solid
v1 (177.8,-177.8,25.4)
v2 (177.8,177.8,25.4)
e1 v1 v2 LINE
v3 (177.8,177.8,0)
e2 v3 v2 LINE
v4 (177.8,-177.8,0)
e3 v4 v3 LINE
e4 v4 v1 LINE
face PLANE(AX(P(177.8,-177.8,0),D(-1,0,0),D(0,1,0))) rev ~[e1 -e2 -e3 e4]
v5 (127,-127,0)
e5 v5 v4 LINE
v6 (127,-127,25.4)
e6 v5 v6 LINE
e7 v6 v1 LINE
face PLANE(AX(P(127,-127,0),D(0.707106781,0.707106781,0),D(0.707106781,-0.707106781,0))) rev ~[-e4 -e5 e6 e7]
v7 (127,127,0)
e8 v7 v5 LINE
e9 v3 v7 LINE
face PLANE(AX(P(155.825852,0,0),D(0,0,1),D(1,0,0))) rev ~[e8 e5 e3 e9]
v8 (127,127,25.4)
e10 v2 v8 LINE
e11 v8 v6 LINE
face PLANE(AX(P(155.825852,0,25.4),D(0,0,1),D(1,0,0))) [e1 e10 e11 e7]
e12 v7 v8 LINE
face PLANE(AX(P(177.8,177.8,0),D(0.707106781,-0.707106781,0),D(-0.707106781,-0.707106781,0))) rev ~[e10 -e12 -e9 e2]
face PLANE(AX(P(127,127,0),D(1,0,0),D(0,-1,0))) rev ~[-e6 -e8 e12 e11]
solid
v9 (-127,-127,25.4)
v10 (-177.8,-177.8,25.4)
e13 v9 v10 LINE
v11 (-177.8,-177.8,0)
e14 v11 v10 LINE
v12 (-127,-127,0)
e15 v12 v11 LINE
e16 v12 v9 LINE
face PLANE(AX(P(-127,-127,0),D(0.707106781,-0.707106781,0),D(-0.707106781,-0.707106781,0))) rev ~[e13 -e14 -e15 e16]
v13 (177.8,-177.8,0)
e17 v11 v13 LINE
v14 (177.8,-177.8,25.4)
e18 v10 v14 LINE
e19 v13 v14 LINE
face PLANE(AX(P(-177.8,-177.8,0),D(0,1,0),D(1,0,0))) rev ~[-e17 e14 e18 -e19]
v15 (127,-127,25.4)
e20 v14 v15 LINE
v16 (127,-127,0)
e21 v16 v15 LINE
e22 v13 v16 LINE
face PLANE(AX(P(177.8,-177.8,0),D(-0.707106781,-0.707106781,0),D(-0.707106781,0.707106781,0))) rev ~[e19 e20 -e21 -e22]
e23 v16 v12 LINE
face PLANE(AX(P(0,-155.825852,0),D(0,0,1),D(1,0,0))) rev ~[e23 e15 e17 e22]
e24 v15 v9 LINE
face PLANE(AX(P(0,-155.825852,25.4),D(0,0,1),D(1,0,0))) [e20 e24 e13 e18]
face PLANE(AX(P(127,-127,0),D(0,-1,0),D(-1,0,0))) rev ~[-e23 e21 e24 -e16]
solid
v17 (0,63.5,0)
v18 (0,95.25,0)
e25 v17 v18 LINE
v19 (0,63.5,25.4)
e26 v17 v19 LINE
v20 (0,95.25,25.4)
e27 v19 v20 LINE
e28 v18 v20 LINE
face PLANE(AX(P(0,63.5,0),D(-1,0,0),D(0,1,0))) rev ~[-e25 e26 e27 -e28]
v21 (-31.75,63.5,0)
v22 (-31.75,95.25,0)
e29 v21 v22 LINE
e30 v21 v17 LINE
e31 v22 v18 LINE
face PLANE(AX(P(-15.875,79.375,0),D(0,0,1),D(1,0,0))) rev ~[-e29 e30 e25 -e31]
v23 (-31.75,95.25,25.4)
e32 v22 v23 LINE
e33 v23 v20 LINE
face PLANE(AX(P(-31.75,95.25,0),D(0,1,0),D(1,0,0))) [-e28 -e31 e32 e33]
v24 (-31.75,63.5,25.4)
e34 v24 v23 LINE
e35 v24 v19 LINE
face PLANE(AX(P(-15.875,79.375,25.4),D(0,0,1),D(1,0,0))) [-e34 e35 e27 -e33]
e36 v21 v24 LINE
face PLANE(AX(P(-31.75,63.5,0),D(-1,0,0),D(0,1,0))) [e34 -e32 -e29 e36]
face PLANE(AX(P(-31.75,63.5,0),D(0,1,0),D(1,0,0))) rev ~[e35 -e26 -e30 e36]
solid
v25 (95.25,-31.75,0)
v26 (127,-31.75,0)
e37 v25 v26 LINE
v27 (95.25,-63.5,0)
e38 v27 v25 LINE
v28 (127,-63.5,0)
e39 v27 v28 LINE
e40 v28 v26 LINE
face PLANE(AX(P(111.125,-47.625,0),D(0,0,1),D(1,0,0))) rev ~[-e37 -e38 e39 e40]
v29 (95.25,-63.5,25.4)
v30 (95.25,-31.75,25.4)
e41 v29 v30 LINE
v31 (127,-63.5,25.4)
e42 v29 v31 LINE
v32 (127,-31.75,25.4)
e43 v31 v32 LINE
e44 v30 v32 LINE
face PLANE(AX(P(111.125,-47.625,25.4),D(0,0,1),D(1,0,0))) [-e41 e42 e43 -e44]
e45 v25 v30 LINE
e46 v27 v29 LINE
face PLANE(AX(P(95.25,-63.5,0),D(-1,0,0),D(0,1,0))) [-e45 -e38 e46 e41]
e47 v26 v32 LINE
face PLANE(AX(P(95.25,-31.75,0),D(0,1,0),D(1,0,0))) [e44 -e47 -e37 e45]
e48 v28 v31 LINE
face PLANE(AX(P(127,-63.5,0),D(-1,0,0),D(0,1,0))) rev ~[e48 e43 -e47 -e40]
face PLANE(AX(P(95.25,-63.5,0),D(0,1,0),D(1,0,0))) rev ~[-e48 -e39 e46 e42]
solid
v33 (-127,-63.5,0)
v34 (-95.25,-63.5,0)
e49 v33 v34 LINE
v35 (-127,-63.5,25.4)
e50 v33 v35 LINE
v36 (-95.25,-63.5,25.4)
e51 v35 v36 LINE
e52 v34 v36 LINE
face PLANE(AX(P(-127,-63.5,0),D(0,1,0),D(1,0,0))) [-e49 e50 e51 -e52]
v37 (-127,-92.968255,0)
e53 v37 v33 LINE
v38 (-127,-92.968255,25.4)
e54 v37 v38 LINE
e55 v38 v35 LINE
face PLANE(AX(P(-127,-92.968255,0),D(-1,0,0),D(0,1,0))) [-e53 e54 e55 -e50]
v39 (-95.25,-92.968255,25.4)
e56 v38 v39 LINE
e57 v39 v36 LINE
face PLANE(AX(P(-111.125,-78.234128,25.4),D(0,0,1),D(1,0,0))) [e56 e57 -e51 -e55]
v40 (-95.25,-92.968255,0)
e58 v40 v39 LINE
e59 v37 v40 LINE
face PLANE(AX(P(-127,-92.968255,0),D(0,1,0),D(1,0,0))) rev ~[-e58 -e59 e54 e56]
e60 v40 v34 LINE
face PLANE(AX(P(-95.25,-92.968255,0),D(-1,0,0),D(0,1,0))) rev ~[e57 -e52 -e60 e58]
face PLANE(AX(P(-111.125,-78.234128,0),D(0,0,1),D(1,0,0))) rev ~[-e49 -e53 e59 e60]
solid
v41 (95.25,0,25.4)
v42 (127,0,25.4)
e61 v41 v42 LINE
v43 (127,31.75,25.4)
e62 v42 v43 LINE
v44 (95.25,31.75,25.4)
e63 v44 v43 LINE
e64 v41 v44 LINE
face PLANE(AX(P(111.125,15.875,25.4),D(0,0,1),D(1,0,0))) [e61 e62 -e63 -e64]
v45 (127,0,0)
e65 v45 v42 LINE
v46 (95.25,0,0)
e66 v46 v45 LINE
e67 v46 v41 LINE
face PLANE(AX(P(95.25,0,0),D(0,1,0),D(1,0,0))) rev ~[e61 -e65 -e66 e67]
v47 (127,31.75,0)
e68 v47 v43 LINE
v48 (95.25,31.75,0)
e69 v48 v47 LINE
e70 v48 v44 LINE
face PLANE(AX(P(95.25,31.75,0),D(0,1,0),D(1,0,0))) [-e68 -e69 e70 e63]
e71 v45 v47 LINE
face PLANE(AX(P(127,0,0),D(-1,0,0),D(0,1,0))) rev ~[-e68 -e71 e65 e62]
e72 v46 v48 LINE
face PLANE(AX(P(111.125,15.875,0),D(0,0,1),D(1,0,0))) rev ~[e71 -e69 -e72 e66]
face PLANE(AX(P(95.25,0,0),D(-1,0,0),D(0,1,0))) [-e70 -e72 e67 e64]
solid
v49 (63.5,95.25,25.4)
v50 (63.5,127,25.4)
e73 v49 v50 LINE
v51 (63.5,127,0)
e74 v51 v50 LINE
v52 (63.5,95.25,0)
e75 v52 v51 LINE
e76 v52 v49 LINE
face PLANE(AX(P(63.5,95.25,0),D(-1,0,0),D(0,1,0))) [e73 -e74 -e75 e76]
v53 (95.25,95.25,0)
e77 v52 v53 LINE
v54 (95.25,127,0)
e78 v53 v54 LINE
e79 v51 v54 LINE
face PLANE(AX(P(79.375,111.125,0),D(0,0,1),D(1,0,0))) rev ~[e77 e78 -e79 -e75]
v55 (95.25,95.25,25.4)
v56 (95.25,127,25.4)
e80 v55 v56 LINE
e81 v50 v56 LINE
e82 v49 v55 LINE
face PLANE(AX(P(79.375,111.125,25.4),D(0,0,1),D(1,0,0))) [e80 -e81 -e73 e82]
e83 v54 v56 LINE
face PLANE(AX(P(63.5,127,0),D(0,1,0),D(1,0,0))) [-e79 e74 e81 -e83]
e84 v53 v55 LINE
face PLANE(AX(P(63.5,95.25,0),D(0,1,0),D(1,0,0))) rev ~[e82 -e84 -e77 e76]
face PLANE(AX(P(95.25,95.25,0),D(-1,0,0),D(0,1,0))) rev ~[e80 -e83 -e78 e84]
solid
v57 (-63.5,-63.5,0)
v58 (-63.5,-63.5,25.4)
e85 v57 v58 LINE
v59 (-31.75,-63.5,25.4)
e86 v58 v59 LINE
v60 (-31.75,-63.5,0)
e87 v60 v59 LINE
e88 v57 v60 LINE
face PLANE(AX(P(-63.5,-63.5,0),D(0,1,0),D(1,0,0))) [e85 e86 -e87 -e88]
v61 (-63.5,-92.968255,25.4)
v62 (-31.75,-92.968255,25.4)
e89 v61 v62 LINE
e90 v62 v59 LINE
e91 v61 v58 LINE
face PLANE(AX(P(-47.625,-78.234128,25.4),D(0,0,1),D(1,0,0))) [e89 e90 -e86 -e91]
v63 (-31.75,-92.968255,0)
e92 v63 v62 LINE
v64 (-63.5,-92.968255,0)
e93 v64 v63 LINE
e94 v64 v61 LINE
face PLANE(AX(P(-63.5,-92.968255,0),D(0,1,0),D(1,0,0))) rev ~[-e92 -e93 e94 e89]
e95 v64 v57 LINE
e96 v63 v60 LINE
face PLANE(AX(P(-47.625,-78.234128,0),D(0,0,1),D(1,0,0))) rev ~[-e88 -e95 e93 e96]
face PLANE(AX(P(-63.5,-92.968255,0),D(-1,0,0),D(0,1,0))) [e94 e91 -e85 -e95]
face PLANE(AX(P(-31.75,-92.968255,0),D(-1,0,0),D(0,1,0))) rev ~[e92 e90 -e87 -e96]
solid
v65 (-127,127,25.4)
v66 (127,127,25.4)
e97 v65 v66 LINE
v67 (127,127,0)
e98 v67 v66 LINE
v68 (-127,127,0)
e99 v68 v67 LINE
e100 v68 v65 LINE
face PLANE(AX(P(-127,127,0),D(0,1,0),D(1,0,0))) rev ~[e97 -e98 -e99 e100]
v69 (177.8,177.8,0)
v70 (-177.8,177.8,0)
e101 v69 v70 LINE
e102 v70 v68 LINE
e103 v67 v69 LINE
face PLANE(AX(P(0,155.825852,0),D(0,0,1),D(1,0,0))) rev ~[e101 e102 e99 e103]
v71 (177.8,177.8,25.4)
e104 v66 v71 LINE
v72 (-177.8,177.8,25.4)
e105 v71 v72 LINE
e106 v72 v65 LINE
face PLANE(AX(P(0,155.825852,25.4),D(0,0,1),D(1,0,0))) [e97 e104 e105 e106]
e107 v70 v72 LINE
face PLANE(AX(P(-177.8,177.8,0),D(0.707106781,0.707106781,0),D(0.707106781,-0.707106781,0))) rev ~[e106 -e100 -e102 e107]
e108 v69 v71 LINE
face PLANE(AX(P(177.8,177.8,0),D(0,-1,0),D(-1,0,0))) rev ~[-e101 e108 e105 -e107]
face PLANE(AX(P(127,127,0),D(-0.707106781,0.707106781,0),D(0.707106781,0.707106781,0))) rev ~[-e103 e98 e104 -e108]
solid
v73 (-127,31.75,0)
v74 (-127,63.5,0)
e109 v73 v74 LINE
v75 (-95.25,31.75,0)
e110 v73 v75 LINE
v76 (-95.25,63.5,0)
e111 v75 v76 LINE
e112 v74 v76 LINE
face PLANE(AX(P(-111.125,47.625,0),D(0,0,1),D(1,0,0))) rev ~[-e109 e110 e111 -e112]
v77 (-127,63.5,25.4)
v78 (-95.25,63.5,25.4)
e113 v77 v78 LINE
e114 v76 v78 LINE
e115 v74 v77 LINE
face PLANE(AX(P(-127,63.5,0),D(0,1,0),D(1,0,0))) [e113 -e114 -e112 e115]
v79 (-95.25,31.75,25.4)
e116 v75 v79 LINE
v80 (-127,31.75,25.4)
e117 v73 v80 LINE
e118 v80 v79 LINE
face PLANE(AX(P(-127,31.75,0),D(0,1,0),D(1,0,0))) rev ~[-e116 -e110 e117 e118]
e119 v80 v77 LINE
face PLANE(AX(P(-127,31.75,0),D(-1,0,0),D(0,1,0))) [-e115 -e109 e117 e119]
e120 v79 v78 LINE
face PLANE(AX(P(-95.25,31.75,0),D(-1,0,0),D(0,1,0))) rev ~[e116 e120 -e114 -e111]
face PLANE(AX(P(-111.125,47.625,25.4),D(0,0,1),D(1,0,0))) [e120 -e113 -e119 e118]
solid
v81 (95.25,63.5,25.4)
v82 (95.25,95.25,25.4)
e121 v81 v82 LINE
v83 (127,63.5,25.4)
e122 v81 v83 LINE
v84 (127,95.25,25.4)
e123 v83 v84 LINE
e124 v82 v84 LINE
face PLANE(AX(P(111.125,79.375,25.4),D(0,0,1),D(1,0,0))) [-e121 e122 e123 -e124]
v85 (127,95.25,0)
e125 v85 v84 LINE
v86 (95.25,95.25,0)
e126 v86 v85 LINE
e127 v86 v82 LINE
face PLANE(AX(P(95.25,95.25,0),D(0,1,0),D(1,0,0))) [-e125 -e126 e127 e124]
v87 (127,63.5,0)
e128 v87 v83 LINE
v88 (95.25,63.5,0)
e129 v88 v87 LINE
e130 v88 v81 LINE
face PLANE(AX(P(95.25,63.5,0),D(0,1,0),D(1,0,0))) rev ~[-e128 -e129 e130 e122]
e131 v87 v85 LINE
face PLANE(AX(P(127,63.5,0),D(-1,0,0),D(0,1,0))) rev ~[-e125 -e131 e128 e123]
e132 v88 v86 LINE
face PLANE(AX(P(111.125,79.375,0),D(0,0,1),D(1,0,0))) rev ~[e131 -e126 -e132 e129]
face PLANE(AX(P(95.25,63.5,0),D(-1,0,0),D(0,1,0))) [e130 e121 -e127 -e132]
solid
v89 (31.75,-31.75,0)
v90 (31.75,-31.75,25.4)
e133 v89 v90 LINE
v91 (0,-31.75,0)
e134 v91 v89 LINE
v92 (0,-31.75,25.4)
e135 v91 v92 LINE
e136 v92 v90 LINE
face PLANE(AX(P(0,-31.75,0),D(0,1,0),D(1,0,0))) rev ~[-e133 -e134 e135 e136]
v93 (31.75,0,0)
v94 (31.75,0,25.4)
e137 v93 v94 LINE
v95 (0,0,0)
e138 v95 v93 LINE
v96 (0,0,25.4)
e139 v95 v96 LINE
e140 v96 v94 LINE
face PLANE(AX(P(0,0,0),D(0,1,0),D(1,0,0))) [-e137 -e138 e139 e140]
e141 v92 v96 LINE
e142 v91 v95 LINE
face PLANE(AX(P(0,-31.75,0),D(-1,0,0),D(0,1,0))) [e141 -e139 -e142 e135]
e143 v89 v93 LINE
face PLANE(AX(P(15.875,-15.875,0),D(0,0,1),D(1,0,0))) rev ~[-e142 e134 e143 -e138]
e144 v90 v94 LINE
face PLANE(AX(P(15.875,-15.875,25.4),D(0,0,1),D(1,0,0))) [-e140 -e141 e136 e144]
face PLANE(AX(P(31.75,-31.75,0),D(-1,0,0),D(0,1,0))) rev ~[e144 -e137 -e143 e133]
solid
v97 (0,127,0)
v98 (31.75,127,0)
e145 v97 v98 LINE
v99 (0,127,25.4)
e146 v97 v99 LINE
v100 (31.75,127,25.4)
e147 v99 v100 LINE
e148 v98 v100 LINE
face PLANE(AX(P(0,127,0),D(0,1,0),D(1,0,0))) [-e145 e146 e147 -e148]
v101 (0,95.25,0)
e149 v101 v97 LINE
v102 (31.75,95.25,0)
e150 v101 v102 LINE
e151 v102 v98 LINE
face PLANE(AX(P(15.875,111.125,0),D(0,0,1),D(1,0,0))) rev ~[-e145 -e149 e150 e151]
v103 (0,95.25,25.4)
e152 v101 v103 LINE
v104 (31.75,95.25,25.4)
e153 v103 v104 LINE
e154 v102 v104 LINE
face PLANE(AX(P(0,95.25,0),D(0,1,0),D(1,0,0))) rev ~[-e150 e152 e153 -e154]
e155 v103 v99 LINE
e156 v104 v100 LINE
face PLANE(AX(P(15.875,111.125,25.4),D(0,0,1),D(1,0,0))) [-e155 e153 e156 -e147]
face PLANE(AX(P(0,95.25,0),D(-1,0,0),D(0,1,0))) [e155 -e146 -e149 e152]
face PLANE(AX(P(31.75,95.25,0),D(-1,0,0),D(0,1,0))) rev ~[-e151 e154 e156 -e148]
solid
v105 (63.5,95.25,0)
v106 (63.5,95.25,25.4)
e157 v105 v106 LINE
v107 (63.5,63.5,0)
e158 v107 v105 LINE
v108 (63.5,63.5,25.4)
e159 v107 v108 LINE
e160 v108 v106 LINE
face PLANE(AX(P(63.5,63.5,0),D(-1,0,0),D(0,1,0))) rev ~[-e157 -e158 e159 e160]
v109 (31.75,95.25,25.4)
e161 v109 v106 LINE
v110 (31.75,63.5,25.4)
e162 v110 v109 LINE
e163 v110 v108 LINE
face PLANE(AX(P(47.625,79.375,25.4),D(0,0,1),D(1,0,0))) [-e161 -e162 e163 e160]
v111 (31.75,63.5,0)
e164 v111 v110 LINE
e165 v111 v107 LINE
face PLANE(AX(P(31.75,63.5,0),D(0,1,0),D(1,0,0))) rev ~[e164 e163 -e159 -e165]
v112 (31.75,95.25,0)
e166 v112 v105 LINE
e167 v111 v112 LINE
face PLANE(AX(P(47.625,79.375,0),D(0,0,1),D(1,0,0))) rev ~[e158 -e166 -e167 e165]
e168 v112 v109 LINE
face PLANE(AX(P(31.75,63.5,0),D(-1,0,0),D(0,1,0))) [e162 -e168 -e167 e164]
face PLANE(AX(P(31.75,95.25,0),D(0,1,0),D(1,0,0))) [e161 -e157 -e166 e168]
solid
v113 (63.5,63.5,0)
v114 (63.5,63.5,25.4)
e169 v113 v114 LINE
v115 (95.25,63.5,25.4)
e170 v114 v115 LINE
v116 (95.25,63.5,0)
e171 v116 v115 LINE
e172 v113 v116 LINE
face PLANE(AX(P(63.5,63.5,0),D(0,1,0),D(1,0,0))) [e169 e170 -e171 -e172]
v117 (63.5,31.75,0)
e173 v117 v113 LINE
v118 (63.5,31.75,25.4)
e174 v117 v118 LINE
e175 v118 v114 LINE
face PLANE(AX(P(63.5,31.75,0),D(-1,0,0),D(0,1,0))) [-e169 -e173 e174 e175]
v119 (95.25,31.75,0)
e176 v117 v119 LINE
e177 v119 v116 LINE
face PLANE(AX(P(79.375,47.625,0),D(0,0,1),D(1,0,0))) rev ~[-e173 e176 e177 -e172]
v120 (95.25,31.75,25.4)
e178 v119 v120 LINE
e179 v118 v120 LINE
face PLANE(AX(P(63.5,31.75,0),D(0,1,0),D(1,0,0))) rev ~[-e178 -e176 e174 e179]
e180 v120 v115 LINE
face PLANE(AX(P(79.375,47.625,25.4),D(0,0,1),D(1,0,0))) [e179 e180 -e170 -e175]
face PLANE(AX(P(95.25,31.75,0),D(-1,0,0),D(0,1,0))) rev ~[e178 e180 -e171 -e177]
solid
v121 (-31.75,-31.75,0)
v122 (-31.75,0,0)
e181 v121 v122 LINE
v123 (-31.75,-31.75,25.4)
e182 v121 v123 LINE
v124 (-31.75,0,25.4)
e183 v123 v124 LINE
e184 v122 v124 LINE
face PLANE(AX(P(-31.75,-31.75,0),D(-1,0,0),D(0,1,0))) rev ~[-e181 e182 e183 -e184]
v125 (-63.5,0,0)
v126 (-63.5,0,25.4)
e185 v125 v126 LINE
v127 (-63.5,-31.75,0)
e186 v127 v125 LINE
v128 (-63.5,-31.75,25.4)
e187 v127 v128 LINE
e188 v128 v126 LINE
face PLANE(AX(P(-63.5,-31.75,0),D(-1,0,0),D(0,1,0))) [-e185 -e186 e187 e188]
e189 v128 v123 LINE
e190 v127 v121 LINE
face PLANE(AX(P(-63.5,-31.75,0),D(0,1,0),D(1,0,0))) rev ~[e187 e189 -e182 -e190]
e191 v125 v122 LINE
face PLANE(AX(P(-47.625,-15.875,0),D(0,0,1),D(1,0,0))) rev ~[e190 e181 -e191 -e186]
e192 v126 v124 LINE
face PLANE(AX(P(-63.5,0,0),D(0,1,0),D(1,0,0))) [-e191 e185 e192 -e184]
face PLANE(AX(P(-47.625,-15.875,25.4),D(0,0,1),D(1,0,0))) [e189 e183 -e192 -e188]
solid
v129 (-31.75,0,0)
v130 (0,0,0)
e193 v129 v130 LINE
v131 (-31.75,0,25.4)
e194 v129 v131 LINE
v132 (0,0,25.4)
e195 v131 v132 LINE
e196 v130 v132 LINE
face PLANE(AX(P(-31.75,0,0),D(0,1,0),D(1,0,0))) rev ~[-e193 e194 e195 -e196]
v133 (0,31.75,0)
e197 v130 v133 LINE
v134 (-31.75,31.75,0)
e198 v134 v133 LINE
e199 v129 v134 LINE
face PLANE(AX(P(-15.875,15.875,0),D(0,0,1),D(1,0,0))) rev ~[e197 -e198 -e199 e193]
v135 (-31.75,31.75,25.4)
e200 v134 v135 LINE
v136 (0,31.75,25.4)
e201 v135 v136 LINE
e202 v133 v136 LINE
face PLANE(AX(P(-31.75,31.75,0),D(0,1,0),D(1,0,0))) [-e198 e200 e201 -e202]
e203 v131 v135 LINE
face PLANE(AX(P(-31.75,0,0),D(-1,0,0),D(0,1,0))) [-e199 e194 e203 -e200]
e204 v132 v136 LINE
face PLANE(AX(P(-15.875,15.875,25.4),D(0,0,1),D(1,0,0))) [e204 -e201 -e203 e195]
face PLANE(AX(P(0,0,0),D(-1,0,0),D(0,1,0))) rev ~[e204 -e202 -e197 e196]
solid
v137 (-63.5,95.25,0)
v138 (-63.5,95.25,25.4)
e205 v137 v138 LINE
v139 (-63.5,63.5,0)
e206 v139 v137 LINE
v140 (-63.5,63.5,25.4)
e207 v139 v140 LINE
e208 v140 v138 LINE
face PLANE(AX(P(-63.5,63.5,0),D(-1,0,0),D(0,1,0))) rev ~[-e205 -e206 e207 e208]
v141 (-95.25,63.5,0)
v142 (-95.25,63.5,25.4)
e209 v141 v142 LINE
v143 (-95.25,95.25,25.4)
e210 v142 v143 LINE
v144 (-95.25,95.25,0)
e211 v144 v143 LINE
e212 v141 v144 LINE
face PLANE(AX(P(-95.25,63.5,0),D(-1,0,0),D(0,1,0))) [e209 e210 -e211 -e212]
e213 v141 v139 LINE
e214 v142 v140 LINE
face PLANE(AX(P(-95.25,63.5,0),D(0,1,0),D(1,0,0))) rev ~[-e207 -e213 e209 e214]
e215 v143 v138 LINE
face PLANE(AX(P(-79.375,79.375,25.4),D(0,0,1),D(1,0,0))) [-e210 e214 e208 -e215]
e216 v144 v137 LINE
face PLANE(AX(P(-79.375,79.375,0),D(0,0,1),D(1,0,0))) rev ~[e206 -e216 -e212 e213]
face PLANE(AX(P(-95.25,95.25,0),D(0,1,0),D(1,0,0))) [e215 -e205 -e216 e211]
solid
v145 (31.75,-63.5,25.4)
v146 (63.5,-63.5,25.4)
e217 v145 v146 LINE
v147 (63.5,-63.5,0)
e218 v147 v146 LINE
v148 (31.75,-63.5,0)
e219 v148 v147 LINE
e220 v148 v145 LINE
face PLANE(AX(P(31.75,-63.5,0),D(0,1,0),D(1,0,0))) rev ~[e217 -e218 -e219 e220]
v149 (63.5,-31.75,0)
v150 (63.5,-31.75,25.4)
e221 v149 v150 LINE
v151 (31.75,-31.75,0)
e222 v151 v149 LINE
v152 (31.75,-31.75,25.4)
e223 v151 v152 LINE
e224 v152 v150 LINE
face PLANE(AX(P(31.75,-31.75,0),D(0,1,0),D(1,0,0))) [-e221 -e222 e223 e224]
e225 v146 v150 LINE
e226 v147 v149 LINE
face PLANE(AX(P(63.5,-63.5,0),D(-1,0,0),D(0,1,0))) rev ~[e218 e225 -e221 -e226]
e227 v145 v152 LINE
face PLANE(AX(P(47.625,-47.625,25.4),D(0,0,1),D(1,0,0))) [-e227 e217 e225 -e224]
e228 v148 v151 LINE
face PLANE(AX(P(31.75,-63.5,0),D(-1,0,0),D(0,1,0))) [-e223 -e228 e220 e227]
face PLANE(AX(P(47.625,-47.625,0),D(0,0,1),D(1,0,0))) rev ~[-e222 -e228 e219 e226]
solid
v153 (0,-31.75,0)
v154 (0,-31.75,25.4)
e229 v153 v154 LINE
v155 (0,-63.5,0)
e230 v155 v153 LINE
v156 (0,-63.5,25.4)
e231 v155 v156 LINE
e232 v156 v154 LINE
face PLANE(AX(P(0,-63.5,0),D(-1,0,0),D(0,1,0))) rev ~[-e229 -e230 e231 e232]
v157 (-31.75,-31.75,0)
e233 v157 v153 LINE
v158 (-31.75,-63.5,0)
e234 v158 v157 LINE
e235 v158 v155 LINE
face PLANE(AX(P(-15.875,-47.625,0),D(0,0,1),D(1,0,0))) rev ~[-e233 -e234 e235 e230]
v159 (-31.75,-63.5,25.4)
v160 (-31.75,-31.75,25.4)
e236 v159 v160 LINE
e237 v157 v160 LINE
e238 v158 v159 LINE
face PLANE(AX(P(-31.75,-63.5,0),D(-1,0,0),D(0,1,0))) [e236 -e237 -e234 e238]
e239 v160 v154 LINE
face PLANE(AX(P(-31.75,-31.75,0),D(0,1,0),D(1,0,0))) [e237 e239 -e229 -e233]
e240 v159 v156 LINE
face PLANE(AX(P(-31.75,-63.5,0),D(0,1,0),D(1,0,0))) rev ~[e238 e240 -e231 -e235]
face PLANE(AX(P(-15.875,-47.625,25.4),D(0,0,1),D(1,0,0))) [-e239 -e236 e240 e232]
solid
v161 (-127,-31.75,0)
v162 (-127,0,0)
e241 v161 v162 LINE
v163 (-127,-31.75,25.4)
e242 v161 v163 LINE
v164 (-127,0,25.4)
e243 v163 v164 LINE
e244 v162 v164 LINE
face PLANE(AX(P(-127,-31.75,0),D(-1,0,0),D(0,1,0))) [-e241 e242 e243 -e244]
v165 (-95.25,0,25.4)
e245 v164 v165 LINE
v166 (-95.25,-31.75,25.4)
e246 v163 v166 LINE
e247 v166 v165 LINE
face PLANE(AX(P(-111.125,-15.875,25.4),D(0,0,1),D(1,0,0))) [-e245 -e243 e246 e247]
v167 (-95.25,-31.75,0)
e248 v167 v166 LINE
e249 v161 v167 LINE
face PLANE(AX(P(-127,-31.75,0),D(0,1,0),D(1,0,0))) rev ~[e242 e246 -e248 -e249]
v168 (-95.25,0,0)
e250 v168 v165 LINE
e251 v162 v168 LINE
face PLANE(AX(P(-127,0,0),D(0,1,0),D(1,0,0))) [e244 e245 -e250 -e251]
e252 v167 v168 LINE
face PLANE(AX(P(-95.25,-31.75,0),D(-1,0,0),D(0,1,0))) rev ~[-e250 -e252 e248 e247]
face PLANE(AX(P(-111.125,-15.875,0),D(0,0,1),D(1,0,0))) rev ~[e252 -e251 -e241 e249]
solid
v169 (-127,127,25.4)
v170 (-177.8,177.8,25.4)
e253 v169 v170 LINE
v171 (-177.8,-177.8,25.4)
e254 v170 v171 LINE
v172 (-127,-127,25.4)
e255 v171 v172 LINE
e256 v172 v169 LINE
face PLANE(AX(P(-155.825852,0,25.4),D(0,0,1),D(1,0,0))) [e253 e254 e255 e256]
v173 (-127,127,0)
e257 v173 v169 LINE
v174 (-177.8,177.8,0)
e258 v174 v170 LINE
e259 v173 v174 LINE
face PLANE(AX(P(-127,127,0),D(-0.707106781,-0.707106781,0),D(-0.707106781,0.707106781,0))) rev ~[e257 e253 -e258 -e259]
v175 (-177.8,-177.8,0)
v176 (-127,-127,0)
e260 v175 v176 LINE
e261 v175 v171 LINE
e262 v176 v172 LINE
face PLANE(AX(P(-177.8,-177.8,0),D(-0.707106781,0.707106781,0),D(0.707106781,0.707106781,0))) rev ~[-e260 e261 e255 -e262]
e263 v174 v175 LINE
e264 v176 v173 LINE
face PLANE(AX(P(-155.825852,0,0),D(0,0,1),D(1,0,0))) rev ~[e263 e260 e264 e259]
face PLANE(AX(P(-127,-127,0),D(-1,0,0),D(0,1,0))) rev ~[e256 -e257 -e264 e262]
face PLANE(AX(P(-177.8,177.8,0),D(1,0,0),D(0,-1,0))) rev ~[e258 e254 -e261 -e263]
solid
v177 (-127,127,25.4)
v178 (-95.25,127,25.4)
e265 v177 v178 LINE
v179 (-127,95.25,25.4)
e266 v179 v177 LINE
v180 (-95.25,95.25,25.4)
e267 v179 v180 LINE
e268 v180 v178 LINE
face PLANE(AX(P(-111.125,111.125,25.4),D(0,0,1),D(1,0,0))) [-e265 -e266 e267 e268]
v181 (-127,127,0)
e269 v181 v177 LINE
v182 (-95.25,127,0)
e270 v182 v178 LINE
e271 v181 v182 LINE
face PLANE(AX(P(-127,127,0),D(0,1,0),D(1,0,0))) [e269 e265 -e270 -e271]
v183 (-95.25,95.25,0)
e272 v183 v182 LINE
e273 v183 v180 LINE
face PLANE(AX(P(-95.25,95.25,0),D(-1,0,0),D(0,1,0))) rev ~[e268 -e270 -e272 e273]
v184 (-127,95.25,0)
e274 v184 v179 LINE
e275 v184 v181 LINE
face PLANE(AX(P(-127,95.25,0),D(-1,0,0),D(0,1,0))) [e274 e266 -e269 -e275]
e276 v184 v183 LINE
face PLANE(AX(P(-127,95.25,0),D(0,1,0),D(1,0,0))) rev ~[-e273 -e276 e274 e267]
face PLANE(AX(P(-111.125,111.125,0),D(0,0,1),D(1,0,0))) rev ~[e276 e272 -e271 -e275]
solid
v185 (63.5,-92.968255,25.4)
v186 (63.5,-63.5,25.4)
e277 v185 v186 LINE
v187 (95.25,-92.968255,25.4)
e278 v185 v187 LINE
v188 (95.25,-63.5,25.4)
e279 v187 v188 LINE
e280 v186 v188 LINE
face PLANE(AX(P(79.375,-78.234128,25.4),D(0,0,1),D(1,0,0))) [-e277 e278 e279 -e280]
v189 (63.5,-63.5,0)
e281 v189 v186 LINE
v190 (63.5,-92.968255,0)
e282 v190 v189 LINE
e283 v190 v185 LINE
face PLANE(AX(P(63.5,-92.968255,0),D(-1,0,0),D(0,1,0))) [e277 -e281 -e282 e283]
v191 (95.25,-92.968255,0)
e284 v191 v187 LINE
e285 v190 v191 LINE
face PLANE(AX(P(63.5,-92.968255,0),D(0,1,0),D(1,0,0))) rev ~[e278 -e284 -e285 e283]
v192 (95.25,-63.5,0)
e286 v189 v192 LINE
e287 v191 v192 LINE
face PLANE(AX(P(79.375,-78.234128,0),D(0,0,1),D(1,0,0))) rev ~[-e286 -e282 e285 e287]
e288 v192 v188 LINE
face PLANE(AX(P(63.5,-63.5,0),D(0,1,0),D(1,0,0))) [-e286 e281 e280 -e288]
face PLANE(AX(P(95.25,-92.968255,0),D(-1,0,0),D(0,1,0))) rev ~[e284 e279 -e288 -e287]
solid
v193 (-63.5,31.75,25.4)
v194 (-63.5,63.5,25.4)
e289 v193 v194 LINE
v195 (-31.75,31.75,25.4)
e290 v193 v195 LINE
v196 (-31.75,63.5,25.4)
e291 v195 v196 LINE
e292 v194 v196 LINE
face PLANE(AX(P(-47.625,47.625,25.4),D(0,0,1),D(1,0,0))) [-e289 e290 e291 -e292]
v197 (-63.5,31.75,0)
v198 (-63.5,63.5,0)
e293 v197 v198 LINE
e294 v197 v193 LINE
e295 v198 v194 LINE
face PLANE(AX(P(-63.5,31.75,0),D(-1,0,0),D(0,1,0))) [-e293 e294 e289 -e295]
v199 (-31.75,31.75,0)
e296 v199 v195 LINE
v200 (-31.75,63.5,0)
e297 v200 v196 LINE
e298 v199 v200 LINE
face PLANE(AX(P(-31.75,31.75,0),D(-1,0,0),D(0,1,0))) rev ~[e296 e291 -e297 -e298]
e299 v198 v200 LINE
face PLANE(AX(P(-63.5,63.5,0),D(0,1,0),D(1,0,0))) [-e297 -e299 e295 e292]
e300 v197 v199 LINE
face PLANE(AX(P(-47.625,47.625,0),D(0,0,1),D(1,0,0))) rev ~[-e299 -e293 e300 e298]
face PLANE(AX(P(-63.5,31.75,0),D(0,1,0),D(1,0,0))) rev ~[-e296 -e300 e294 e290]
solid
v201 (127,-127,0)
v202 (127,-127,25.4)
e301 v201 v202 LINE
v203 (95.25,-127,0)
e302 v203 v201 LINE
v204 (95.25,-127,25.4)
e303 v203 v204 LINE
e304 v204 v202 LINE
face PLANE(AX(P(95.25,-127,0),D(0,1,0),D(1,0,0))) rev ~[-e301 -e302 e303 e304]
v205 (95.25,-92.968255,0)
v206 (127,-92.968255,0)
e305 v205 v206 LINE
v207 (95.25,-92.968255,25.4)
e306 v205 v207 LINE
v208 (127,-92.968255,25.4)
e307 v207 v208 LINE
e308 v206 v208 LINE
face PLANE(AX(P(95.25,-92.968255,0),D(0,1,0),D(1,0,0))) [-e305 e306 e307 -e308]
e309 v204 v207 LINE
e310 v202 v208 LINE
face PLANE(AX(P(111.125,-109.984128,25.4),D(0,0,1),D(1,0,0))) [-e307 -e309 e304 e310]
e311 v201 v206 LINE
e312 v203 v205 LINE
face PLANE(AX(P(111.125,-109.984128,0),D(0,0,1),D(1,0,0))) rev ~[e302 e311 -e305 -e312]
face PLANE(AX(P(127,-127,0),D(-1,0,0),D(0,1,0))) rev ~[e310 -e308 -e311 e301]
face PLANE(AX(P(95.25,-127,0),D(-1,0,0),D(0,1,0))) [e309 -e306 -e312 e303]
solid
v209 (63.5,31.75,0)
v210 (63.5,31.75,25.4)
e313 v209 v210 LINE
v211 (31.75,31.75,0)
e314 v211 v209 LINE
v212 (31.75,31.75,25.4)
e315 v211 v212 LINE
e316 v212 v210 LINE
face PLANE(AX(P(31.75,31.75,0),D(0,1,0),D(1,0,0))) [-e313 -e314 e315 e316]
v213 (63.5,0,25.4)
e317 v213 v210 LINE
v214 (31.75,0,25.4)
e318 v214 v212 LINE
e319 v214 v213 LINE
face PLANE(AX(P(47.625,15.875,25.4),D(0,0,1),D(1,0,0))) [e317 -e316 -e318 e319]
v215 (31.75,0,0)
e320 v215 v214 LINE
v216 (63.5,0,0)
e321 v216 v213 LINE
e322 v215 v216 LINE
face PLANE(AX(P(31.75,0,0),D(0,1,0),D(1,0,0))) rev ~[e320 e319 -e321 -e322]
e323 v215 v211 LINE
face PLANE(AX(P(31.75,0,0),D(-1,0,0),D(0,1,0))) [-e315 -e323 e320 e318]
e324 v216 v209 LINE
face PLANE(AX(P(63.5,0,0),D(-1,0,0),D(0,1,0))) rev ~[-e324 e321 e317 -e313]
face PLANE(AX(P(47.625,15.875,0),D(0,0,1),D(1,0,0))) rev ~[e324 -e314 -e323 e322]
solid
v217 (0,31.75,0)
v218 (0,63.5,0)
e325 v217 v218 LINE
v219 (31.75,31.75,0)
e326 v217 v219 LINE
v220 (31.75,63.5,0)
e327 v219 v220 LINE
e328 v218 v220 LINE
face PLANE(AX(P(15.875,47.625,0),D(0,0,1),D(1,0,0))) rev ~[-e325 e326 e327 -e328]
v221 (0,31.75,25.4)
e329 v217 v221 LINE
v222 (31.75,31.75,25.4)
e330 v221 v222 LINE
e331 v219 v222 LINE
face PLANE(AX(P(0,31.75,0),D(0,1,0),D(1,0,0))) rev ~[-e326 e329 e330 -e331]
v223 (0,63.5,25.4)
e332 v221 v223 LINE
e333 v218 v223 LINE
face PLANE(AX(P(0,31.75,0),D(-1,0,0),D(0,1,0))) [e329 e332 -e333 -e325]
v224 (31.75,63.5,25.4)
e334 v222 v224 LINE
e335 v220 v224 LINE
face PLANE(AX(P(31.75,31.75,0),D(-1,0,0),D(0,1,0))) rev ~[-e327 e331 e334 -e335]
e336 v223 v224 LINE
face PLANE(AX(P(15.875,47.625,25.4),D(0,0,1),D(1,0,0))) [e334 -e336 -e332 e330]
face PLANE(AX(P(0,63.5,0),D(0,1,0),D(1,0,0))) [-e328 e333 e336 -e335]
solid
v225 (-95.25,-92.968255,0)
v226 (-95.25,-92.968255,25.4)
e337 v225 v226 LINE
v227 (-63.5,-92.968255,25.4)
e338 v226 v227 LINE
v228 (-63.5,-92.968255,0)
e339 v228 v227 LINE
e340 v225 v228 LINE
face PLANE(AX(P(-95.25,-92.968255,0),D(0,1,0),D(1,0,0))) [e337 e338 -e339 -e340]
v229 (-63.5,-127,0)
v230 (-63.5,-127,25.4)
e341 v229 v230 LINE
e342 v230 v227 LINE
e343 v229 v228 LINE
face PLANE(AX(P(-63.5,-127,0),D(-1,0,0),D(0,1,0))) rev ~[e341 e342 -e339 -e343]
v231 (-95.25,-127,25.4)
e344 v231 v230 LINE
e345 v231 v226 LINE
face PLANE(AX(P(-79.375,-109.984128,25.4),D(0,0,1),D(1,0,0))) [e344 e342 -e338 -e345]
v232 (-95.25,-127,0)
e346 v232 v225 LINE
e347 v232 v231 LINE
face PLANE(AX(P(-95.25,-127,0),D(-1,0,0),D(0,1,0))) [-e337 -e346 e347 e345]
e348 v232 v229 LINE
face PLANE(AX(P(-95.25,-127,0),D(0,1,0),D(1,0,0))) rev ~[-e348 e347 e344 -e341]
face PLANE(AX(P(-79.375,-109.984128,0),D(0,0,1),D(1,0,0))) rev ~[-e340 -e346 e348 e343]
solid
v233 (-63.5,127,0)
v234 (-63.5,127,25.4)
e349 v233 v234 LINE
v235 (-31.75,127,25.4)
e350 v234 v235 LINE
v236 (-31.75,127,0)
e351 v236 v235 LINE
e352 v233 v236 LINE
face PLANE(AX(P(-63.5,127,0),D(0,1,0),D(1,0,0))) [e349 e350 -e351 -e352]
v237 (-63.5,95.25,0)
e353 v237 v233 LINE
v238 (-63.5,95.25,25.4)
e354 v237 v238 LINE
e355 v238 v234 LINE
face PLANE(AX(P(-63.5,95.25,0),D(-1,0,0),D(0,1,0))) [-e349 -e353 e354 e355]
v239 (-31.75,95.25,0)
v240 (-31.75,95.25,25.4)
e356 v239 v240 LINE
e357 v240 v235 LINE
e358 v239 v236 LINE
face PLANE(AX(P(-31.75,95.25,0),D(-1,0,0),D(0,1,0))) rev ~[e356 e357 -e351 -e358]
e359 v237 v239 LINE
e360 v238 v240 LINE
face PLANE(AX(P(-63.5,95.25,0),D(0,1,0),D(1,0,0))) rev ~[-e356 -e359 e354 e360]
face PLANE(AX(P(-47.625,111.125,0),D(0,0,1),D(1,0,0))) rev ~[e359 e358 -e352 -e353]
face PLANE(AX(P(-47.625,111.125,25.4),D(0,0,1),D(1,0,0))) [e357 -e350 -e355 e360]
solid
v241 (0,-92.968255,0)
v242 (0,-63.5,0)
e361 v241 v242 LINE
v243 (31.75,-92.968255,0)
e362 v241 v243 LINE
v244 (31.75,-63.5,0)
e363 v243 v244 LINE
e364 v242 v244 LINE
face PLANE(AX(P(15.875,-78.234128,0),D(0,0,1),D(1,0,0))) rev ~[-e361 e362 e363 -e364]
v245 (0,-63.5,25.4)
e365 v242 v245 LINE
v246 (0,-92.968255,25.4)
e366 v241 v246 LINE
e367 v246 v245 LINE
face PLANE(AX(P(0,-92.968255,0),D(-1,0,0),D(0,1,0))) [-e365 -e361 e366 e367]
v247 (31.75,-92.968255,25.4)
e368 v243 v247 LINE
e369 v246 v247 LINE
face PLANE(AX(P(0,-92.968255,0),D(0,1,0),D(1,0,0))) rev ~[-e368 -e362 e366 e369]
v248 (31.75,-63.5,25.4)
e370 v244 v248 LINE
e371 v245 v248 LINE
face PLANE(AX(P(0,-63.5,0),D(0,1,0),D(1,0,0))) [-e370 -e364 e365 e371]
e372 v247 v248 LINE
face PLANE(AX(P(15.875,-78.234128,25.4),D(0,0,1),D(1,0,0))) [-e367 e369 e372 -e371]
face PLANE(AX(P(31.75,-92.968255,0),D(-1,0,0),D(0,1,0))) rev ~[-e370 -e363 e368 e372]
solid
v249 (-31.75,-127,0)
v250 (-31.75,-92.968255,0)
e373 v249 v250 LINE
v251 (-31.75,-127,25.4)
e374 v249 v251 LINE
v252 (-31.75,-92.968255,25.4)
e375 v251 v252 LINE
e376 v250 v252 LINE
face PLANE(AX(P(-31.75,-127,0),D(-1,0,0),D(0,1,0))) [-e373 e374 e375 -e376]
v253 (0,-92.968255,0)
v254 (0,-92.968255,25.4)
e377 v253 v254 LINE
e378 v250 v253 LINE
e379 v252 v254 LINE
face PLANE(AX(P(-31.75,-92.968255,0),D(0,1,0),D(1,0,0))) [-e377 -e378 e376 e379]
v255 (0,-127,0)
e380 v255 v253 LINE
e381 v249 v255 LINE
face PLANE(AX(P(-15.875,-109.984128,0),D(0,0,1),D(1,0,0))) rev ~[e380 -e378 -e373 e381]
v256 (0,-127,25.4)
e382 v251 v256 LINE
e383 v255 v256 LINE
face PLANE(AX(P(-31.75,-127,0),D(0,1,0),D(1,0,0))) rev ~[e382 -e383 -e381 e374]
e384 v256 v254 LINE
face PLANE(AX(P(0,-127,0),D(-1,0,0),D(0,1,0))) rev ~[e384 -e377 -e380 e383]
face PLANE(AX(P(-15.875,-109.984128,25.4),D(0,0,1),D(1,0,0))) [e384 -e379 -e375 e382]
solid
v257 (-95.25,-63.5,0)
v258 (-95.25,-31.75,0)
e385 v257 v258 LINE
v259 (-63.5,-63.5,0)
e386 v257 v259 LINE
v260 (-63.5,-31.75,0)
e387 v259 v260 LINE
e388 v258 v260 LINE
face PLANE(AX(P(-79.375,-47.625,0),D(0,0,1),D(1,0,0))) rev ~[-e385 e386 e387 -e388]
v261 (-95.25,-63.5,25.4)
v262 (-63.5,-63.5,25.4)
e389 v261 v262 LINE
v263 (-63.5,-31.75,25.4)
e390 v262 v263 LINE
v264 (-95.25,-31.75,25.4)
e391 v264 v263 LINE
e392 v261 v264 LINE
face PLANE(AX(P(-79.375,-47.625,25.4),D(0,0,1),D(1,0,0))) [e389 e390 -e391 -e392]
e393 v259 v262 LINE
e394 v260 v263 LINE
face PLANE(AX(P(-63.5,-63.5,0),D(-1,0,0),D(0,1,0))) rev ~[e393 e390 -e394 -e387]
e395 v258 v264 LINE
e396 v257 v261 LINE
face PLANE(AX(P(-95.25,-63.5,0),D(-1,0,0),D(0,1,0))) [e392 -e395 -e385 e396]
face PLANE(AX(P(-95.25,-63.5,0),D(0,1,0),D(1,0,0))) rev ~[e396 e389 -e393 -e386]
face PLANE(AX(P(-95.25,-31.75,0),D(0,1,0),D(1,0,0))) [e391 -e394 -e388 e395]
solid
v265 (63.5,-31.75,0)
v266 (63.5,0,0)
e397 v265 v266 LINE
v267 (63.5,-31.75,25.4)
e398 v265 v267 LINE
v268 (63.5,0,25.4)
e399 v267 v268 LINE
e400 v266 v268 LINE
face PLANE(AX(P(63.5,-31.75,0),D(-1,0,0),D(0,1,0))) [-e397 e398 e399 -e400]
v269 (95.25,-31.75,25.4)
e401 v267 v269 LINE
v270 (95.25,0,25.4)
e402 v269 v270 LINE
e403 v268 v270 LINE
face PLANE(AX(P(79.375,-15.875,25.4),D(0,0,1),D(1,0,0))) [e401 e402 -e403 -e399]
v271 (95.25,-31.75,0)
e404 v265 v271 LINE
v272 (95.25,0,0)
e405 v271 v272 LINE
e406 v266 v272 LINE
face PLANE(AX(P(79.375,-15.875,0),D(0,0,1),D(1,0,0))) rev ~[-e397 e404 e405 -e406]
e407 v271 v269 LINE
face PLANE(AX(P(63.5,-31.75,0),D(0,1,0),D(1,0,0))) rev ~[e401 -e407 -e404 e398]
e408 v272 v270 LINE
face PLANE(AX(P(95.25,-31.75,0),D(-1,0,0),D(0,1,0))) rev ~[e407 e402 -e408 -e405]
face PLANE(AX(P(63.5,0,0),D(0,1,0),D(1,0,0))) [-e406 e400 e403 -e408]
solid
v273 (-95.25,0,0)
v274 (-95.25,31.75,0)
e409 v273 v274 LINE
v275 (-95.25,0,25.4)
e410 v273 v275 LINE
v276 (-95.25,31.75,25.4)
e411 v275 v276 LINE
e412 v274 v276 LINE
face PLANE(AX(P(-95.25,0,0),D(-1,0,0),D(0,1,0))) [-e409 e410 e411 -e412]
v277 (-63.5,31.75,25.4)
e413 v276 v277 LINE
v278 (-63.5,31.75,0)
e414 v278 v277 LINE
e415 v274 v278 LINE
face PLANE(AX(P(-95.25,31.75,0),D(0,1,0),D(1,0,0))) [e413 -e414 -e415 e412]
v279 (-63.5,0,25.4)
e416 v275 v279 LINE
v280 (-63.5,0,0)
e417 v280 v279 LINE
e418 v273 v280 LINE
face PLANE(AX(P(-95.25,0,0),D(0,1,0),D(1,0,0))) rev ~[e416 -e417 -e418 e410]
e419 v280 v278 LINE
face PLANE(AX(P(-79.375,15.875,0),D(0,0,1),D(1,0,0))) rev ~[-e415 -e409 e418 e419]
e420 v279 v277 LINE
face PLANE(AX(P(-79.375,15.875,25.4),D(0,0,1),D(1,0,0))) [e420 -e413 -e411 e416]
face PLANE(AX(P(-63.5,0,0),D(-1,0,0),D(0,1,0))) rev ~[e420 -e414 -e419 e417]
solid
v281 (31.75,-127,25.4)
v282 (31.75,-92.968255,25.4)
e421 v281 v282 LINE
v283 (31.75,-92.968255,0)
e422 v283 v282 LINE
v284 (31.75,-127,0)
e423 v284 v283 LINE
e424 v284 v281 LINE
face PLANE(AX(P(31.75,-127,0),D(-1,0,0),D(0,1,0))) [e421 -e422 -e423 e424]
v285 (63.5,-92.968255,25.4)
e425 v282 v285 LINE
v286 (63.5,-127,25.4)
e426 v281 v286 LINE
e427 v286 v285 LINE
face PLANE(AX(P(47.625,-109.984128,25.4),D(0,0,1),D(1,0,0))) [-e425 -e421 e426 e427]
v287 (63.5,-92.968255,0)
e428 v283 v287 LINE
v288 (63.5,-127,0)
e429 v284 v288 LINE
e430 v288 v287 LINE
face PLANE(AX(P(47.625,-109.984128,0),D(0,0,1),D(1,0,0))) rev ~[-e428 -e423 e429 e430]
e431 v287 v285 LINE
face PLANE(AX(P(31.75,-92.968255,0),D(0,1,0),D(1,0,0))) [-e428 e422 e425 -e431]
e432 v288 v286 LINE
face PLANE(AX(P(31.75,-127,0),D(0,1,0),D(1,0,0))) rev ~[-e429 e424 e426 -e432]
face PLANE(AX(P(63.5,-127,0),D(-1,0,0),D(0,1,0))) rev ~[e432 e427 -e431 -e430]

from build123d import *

# Parameters (mm, degrees)
F1_DEPTH = 25.4
F2_DEPTH = 25.4
F0_W     = 31.75
F0_H     = 31.75
F3_DEPTH = 25.4
F0_H_2   = 29.4682552814
F0_H_3   = 34.0317447186


with BuildPart() as f1:
    # F0 (on Top) → F1 (new body)
    with BuildSketch(Plane.XY):
        Polygon((177.8, 177.8), (-177.8, 177.8), (-127, 127), (-95.25, 127), (-63.5, 127), (-31.75, 127), (0, 127), (31.75, 127), (63.5, 127), (95.25, 127), (127, 127), align=None)
    extrude(amount=F1_DEPTH)


with BuildPart() as f1b:
    # F0 (on Top) → F1, piece 2 (new body)
    with BuildSketch(Plane.XY):
        Polygon((-127, -127), (-177.8, -177.8), (177.8, -177.8), (127, -127), (95.25, -127), (63.5, -127), (31.75, -127), (0, -127), (-31.75, -127), (-63.5, -127), (-95.25, -127), align=None)
    extrude(amount=F1_DEPTH)


with BuildPart() as f2:
    # F0 (on Top) → F2 (new body)
    with BuildSketch(Plane.XY):
        Polygon((-177.8, 177.8), (-177.8, -177.8), (-127, -127), (-127, -92.9682552814), (-127, -63.5), (-127, -31.75), (-127, 0), (-127, 31.75), (-127, 63.5), (-127, 95.25), (-127, 127), align=None)
    extrude(amount=F2_DEPTH)


with BuildPart() as f2b:
    # F0 (on Top) → F2, piece 2 (new body)
    with BuildSketch(Plane.XY):
        Polygon((127, -127), (177.8, -177.8), (177.8, 177.8), (127, 127), (127, 95.25), (127, 63.5), (127, 31.75), (127, 0), (127, -31.75), (127, -63.5), (127, -92.9682552814), align=None)
    extrude(amount=F2_DEPTH)


with BuildPart() as f3:
    # F0 (on Top) → F3 (new body)
    with BuildSketch(Plane.XY):
        with Locations((-111.125, 111.125)):
            Rectangle(F0_W, F0_H)
    extrude(amount=F3_DEPTH)


with BuildPart() as f3b:
    # F0 (on Top) → F3, piece 2 (new body)
    with BuildSketch(Plane.XY):
        with Locations((-47.625, 111.125)):
            Rectangle(F0_W, F0_H)
    extrude(amount=F3_DEPTH)


with BuildPart() as f3c:
    # F0 (on Top) → F3, piece 3 (new body)
    with BuildSketch(Plane.XY):
        with Locations((15.875, 111.125)):
            Rectangle(F0_W, F0_H)
    extrude(amount=F3_DEPTH)


with BuildPart() as f3d:
    # F0 (on Top) → F3, piece 4 (new body)
    with BuildSketch(Plane.XY):
        with Locations((79.375, 111.125)):
            Rectangle(F0_W, F0_H)
    extrude(amount=F3_DEPTH)


with BuildPart() as f3e:
    # F0 (on Top) → F3, piece 5 (new body)
    with BuildSketch(Plane.XY):
        with Locations((47.625, 79.375)):
            Rectangle(F0_W, F0_H)
    extrude(amount=F3_DEPTH)


with BuildPart() as f3f:
    # F0 (on Top) → F3, piece 6 (new body)
    with BuildSketch(Plane.XY):
        with Locations((-15.875, 79.375)):
            Rectangle(F0_W, F0_H)
    extrude(amount=F3_DEPTH)


with BuildPart() as f3g:
    # F0 (on Top) → F3, piece 7 (new body)
    with BuildSketch(Plane.XY):
        with Locations((-79.375, 79.375)):
            Rectangle(F0_W, F0_H)
    extrude(amount=F3_DEPTH)


with BuildPart() as f3h:
    # F0 (on Top) → F3, piece 8 (new body)
    with BuildSketch(Plane.XY):
        with Locations((-111.125, 47.625)):
            Rectangle(F0_W, F0_H)
    extrude(amount=F3_DEPTH)


with BuildPart() as f3i:
    # F0 (on Top) → F3, piece 9 (new body)
    with BuildSketch(Plane.XY):
        with Locations((-47.625, 47.625)):
            Rectangle(F0_W, F0_H)
    extrude(amount=F3_DEPTH)


with BuildPart() as f3j:
    # F0 (on Top) → F3, piece 10 (new body)
    with BuildSketch(Plane.XY):
        with Locations((15.875, 47.625)):
            Rectangle(F0_W, F0_H)
    extrude(amount=F3_DEPTH)


with BuildPart() as f3k:
    # F0 (on Top) → F3, piece 11 (new body)
    with BuildSketch(Plane.XY):
        with Locations((79.375, 47.625)):
            Rectangle(F0_W, F0_H)
    extrude(amount=F3_DEPTH)


with BuildPart() as f3l:
    # F0 (on Top) → F3, piece 12 (new body)
    with BuildSketch(Plane.XY):
        with Locations((47.625, 15.875)):
            Rectangle(F0_W, F0_H)
    extrude(amount=F3_DEPTH)


with BuildPart() as f3m:
    # F0 (on Top) → F3, piece 13 (new body)
    with BuildSketch(Plane.XY):
        with Locations((-15.875, 15.875)):
            Rectangle(F0_W, F0_H)
    extrude(amount=F3_DEPTH)


with BuildPart() as f3n:
    # F0 (on Top) → F3, piece 14 (new body)
    with BuildSketch(Plane.XY):
        with Locations((-79.375, 15.875)):
            Rectangle(F0_W, F0_H)
    extrude(amount=F3_DEPTH)


with BuildPart() as f3o:
    # F0 (on Top) → F3, piece 15 (new body)
    with BuildSketch(Plane.XY):
        with Locations((-111.125, -15.875)):
            Rectangle(F0_W, F0_H)
    extrude(amount=F3_DEPTH)


with BuildPart() as f3p:
    # F0 (on Top) → F3, piece 16 (new body)
    with BuildSketch(Plane.XY):
        with Locations((-47.625, -15.875)):
            Rectangle(F0_W, F0_H)
    extrude(amount=F3_DEPTH)


with BuildPart() as f3q:
    # F0 (on Top) → F3, piece 17 (new body)
    with BuildSketch(Plane.XY):
        with Locations((15.875, -15.875)):
            Rectangle(F0_W, F0_H)
    extrude(amount=F3_DEPTH)


with BuildPart() as f3r:
    # F0 (on Top) → F3, piece 18 (new body)
    with BuildSketch(Plane.XY):
        with Locations((79.375, -15.875)):
            Rectangle(F0_W, F0_H)
    extrude(amount=F3_DEPTH)


with BuildPart() as f3s:
    # F0 (on Top) → F3, piece 19 (new body)
    with BuildSketch(Plane.XY):
        with Locations((47.625, -47.625)):
            Rectangle(F0_W, F0_H)
    extrude(amount=F3_DEPTH)


with BuildPart() as f3t:
    # F0 (on Top) → F3, piece 20 (new body)
    with BuildSketch(Plane.XY):
        with Locations((-15.875, -47.625)):
            Rectangle(F0_W, F0_H)
    extrude(amount=F3_DEPTH)


with BuildPart() as f3u:
    # F0 (on Top) → F3, piece 21 (new body)
    with BuildSketch(Plane.XY):
        with Locations((-79.375, -47.625)):
            Rectangle(F0_W, F0_H)
    extrude(amount=F3_DEPTH)


with BuildPart() as f3v:
    # F0 (on Top) → F3, piece 22 (new body)
    with BuildSketch(Plane.XY):
        with Locations((-111.125, -78.2341276407)):
            Rectangle(F0_W, F0_H_2)
    extrude(amount=F3_DEPTH)


with BuildPart() as f3w:
    # F0 (on Top) → F3, piece 23 (new body)
    with BuildSketch(Plane.XY):
        with Locations((-47.625, -78.2341276407)):
            Rectangle(F0_W, F0_H_2)
    extrude(amount=F3_DEPTH)


with BuildPart() as f3x:
    # F0 (on Top) → F3, piece 24 (new body)
    with BuildSketch(Plane.XY):
        with Locations((15.875, -78.2341276407)):
            Rectangle(F0_W, F0_H_2)
    extrude(amount=F3_DEPTH)


with BuildPart() as f3y:
    # F0 (on Top) → F3, piece 25 (new body)
    with BuildSketch(Plane.XY):
        with Locations((79.375, -78.2341276407)):
            Rectangle(F0_W, F0_H_2)
    extrude(amount=F3_DEPTH)


with BuildPart() as f3z:
    # F0 (on Top) → F3, piece 26 (new body)
    with BuildSketch(Plane.XY):
        with Locations((47.625, -109.9841276407)):
            Rectangle(F0_W, F0_H_3)
    extrude(amount=F3_DEPTH)


with BuildPart() as f3ba:
    # F0 (on Top) → F3, piece 27 (new body)
    with BuildSketch(Plane.XY):
        with Locations((-15.875, -109.9841276407)):
            Rectangle(F0_W, F0_H_3)
    extrude(amount=F3_DEPTH)


with BuildPart() as f3bb:
    # F0 (on Top) → F3, piece 28 (new body)
    with BuildSketch(Plane.XY):
        with Locations((-79.375, -109.9841276407)):
            Rectangle(F0_W, F0_H_3)
    extrude(amount=F3_DEPTH)


with BuildPart() as f3bc:
    # F0 (on Top) → F3, piece 29 (new body)
    with BuildSketch(Plane.XY):
        with Locations((111.125, 79.375)):
            Rectangle(F0_W, F0_H)
    extrude(amount=F3_DEPTH)


with BuildPart() as f3bd:
    # F0 (on Top) → F3, piece 30 (new body)
    with BuildSketch(Plane.XY):
        with Locations((111.125, 15.875)):
            Rectangle(F0_W, F0_H)
    extrude(amount=F3_DEPTH)


with BuildPart() as f3be:
    # F0 (on Top) → F3, piece 31 (new body)
    with BuildSketch(Plane.XY):
        with Locations((111.125, -47.625)):
            Rectangle(F0_W, F0_H)
    extrude(amount=F3_DEPTH)


with BuildPart() as f3bf:
    # F0 (on Top) → F3, piece 32 (new body)
    with BuildSketch(Plane.XY):
        with Locations((111.125, -109.9841276407)):
            Rectangle(F0_W, F0_H_3)
    extrude(amount=F3_DEPTH)


solid = Compound([f1.part, f1b.part, f2.part, f2b.part, f3.part, f3b.part, f3c.part, f3d.part, f3e.part, f3f.part, f3g.part, f3h.part, f3i.part, f3j.part, f3k.part, f3l.part, f3m.part, f3n.part, f3o.part, f3p.part, f3q.part, f3r.part, f3s.part, f3t.part, f3u.part, f3v.part, f3w.part, f3x.part, f3y.part, f3z.part, f3ba.part, f3bb.part, f3bc.part, f3bd.part, f3be.part, f3bf.part])
